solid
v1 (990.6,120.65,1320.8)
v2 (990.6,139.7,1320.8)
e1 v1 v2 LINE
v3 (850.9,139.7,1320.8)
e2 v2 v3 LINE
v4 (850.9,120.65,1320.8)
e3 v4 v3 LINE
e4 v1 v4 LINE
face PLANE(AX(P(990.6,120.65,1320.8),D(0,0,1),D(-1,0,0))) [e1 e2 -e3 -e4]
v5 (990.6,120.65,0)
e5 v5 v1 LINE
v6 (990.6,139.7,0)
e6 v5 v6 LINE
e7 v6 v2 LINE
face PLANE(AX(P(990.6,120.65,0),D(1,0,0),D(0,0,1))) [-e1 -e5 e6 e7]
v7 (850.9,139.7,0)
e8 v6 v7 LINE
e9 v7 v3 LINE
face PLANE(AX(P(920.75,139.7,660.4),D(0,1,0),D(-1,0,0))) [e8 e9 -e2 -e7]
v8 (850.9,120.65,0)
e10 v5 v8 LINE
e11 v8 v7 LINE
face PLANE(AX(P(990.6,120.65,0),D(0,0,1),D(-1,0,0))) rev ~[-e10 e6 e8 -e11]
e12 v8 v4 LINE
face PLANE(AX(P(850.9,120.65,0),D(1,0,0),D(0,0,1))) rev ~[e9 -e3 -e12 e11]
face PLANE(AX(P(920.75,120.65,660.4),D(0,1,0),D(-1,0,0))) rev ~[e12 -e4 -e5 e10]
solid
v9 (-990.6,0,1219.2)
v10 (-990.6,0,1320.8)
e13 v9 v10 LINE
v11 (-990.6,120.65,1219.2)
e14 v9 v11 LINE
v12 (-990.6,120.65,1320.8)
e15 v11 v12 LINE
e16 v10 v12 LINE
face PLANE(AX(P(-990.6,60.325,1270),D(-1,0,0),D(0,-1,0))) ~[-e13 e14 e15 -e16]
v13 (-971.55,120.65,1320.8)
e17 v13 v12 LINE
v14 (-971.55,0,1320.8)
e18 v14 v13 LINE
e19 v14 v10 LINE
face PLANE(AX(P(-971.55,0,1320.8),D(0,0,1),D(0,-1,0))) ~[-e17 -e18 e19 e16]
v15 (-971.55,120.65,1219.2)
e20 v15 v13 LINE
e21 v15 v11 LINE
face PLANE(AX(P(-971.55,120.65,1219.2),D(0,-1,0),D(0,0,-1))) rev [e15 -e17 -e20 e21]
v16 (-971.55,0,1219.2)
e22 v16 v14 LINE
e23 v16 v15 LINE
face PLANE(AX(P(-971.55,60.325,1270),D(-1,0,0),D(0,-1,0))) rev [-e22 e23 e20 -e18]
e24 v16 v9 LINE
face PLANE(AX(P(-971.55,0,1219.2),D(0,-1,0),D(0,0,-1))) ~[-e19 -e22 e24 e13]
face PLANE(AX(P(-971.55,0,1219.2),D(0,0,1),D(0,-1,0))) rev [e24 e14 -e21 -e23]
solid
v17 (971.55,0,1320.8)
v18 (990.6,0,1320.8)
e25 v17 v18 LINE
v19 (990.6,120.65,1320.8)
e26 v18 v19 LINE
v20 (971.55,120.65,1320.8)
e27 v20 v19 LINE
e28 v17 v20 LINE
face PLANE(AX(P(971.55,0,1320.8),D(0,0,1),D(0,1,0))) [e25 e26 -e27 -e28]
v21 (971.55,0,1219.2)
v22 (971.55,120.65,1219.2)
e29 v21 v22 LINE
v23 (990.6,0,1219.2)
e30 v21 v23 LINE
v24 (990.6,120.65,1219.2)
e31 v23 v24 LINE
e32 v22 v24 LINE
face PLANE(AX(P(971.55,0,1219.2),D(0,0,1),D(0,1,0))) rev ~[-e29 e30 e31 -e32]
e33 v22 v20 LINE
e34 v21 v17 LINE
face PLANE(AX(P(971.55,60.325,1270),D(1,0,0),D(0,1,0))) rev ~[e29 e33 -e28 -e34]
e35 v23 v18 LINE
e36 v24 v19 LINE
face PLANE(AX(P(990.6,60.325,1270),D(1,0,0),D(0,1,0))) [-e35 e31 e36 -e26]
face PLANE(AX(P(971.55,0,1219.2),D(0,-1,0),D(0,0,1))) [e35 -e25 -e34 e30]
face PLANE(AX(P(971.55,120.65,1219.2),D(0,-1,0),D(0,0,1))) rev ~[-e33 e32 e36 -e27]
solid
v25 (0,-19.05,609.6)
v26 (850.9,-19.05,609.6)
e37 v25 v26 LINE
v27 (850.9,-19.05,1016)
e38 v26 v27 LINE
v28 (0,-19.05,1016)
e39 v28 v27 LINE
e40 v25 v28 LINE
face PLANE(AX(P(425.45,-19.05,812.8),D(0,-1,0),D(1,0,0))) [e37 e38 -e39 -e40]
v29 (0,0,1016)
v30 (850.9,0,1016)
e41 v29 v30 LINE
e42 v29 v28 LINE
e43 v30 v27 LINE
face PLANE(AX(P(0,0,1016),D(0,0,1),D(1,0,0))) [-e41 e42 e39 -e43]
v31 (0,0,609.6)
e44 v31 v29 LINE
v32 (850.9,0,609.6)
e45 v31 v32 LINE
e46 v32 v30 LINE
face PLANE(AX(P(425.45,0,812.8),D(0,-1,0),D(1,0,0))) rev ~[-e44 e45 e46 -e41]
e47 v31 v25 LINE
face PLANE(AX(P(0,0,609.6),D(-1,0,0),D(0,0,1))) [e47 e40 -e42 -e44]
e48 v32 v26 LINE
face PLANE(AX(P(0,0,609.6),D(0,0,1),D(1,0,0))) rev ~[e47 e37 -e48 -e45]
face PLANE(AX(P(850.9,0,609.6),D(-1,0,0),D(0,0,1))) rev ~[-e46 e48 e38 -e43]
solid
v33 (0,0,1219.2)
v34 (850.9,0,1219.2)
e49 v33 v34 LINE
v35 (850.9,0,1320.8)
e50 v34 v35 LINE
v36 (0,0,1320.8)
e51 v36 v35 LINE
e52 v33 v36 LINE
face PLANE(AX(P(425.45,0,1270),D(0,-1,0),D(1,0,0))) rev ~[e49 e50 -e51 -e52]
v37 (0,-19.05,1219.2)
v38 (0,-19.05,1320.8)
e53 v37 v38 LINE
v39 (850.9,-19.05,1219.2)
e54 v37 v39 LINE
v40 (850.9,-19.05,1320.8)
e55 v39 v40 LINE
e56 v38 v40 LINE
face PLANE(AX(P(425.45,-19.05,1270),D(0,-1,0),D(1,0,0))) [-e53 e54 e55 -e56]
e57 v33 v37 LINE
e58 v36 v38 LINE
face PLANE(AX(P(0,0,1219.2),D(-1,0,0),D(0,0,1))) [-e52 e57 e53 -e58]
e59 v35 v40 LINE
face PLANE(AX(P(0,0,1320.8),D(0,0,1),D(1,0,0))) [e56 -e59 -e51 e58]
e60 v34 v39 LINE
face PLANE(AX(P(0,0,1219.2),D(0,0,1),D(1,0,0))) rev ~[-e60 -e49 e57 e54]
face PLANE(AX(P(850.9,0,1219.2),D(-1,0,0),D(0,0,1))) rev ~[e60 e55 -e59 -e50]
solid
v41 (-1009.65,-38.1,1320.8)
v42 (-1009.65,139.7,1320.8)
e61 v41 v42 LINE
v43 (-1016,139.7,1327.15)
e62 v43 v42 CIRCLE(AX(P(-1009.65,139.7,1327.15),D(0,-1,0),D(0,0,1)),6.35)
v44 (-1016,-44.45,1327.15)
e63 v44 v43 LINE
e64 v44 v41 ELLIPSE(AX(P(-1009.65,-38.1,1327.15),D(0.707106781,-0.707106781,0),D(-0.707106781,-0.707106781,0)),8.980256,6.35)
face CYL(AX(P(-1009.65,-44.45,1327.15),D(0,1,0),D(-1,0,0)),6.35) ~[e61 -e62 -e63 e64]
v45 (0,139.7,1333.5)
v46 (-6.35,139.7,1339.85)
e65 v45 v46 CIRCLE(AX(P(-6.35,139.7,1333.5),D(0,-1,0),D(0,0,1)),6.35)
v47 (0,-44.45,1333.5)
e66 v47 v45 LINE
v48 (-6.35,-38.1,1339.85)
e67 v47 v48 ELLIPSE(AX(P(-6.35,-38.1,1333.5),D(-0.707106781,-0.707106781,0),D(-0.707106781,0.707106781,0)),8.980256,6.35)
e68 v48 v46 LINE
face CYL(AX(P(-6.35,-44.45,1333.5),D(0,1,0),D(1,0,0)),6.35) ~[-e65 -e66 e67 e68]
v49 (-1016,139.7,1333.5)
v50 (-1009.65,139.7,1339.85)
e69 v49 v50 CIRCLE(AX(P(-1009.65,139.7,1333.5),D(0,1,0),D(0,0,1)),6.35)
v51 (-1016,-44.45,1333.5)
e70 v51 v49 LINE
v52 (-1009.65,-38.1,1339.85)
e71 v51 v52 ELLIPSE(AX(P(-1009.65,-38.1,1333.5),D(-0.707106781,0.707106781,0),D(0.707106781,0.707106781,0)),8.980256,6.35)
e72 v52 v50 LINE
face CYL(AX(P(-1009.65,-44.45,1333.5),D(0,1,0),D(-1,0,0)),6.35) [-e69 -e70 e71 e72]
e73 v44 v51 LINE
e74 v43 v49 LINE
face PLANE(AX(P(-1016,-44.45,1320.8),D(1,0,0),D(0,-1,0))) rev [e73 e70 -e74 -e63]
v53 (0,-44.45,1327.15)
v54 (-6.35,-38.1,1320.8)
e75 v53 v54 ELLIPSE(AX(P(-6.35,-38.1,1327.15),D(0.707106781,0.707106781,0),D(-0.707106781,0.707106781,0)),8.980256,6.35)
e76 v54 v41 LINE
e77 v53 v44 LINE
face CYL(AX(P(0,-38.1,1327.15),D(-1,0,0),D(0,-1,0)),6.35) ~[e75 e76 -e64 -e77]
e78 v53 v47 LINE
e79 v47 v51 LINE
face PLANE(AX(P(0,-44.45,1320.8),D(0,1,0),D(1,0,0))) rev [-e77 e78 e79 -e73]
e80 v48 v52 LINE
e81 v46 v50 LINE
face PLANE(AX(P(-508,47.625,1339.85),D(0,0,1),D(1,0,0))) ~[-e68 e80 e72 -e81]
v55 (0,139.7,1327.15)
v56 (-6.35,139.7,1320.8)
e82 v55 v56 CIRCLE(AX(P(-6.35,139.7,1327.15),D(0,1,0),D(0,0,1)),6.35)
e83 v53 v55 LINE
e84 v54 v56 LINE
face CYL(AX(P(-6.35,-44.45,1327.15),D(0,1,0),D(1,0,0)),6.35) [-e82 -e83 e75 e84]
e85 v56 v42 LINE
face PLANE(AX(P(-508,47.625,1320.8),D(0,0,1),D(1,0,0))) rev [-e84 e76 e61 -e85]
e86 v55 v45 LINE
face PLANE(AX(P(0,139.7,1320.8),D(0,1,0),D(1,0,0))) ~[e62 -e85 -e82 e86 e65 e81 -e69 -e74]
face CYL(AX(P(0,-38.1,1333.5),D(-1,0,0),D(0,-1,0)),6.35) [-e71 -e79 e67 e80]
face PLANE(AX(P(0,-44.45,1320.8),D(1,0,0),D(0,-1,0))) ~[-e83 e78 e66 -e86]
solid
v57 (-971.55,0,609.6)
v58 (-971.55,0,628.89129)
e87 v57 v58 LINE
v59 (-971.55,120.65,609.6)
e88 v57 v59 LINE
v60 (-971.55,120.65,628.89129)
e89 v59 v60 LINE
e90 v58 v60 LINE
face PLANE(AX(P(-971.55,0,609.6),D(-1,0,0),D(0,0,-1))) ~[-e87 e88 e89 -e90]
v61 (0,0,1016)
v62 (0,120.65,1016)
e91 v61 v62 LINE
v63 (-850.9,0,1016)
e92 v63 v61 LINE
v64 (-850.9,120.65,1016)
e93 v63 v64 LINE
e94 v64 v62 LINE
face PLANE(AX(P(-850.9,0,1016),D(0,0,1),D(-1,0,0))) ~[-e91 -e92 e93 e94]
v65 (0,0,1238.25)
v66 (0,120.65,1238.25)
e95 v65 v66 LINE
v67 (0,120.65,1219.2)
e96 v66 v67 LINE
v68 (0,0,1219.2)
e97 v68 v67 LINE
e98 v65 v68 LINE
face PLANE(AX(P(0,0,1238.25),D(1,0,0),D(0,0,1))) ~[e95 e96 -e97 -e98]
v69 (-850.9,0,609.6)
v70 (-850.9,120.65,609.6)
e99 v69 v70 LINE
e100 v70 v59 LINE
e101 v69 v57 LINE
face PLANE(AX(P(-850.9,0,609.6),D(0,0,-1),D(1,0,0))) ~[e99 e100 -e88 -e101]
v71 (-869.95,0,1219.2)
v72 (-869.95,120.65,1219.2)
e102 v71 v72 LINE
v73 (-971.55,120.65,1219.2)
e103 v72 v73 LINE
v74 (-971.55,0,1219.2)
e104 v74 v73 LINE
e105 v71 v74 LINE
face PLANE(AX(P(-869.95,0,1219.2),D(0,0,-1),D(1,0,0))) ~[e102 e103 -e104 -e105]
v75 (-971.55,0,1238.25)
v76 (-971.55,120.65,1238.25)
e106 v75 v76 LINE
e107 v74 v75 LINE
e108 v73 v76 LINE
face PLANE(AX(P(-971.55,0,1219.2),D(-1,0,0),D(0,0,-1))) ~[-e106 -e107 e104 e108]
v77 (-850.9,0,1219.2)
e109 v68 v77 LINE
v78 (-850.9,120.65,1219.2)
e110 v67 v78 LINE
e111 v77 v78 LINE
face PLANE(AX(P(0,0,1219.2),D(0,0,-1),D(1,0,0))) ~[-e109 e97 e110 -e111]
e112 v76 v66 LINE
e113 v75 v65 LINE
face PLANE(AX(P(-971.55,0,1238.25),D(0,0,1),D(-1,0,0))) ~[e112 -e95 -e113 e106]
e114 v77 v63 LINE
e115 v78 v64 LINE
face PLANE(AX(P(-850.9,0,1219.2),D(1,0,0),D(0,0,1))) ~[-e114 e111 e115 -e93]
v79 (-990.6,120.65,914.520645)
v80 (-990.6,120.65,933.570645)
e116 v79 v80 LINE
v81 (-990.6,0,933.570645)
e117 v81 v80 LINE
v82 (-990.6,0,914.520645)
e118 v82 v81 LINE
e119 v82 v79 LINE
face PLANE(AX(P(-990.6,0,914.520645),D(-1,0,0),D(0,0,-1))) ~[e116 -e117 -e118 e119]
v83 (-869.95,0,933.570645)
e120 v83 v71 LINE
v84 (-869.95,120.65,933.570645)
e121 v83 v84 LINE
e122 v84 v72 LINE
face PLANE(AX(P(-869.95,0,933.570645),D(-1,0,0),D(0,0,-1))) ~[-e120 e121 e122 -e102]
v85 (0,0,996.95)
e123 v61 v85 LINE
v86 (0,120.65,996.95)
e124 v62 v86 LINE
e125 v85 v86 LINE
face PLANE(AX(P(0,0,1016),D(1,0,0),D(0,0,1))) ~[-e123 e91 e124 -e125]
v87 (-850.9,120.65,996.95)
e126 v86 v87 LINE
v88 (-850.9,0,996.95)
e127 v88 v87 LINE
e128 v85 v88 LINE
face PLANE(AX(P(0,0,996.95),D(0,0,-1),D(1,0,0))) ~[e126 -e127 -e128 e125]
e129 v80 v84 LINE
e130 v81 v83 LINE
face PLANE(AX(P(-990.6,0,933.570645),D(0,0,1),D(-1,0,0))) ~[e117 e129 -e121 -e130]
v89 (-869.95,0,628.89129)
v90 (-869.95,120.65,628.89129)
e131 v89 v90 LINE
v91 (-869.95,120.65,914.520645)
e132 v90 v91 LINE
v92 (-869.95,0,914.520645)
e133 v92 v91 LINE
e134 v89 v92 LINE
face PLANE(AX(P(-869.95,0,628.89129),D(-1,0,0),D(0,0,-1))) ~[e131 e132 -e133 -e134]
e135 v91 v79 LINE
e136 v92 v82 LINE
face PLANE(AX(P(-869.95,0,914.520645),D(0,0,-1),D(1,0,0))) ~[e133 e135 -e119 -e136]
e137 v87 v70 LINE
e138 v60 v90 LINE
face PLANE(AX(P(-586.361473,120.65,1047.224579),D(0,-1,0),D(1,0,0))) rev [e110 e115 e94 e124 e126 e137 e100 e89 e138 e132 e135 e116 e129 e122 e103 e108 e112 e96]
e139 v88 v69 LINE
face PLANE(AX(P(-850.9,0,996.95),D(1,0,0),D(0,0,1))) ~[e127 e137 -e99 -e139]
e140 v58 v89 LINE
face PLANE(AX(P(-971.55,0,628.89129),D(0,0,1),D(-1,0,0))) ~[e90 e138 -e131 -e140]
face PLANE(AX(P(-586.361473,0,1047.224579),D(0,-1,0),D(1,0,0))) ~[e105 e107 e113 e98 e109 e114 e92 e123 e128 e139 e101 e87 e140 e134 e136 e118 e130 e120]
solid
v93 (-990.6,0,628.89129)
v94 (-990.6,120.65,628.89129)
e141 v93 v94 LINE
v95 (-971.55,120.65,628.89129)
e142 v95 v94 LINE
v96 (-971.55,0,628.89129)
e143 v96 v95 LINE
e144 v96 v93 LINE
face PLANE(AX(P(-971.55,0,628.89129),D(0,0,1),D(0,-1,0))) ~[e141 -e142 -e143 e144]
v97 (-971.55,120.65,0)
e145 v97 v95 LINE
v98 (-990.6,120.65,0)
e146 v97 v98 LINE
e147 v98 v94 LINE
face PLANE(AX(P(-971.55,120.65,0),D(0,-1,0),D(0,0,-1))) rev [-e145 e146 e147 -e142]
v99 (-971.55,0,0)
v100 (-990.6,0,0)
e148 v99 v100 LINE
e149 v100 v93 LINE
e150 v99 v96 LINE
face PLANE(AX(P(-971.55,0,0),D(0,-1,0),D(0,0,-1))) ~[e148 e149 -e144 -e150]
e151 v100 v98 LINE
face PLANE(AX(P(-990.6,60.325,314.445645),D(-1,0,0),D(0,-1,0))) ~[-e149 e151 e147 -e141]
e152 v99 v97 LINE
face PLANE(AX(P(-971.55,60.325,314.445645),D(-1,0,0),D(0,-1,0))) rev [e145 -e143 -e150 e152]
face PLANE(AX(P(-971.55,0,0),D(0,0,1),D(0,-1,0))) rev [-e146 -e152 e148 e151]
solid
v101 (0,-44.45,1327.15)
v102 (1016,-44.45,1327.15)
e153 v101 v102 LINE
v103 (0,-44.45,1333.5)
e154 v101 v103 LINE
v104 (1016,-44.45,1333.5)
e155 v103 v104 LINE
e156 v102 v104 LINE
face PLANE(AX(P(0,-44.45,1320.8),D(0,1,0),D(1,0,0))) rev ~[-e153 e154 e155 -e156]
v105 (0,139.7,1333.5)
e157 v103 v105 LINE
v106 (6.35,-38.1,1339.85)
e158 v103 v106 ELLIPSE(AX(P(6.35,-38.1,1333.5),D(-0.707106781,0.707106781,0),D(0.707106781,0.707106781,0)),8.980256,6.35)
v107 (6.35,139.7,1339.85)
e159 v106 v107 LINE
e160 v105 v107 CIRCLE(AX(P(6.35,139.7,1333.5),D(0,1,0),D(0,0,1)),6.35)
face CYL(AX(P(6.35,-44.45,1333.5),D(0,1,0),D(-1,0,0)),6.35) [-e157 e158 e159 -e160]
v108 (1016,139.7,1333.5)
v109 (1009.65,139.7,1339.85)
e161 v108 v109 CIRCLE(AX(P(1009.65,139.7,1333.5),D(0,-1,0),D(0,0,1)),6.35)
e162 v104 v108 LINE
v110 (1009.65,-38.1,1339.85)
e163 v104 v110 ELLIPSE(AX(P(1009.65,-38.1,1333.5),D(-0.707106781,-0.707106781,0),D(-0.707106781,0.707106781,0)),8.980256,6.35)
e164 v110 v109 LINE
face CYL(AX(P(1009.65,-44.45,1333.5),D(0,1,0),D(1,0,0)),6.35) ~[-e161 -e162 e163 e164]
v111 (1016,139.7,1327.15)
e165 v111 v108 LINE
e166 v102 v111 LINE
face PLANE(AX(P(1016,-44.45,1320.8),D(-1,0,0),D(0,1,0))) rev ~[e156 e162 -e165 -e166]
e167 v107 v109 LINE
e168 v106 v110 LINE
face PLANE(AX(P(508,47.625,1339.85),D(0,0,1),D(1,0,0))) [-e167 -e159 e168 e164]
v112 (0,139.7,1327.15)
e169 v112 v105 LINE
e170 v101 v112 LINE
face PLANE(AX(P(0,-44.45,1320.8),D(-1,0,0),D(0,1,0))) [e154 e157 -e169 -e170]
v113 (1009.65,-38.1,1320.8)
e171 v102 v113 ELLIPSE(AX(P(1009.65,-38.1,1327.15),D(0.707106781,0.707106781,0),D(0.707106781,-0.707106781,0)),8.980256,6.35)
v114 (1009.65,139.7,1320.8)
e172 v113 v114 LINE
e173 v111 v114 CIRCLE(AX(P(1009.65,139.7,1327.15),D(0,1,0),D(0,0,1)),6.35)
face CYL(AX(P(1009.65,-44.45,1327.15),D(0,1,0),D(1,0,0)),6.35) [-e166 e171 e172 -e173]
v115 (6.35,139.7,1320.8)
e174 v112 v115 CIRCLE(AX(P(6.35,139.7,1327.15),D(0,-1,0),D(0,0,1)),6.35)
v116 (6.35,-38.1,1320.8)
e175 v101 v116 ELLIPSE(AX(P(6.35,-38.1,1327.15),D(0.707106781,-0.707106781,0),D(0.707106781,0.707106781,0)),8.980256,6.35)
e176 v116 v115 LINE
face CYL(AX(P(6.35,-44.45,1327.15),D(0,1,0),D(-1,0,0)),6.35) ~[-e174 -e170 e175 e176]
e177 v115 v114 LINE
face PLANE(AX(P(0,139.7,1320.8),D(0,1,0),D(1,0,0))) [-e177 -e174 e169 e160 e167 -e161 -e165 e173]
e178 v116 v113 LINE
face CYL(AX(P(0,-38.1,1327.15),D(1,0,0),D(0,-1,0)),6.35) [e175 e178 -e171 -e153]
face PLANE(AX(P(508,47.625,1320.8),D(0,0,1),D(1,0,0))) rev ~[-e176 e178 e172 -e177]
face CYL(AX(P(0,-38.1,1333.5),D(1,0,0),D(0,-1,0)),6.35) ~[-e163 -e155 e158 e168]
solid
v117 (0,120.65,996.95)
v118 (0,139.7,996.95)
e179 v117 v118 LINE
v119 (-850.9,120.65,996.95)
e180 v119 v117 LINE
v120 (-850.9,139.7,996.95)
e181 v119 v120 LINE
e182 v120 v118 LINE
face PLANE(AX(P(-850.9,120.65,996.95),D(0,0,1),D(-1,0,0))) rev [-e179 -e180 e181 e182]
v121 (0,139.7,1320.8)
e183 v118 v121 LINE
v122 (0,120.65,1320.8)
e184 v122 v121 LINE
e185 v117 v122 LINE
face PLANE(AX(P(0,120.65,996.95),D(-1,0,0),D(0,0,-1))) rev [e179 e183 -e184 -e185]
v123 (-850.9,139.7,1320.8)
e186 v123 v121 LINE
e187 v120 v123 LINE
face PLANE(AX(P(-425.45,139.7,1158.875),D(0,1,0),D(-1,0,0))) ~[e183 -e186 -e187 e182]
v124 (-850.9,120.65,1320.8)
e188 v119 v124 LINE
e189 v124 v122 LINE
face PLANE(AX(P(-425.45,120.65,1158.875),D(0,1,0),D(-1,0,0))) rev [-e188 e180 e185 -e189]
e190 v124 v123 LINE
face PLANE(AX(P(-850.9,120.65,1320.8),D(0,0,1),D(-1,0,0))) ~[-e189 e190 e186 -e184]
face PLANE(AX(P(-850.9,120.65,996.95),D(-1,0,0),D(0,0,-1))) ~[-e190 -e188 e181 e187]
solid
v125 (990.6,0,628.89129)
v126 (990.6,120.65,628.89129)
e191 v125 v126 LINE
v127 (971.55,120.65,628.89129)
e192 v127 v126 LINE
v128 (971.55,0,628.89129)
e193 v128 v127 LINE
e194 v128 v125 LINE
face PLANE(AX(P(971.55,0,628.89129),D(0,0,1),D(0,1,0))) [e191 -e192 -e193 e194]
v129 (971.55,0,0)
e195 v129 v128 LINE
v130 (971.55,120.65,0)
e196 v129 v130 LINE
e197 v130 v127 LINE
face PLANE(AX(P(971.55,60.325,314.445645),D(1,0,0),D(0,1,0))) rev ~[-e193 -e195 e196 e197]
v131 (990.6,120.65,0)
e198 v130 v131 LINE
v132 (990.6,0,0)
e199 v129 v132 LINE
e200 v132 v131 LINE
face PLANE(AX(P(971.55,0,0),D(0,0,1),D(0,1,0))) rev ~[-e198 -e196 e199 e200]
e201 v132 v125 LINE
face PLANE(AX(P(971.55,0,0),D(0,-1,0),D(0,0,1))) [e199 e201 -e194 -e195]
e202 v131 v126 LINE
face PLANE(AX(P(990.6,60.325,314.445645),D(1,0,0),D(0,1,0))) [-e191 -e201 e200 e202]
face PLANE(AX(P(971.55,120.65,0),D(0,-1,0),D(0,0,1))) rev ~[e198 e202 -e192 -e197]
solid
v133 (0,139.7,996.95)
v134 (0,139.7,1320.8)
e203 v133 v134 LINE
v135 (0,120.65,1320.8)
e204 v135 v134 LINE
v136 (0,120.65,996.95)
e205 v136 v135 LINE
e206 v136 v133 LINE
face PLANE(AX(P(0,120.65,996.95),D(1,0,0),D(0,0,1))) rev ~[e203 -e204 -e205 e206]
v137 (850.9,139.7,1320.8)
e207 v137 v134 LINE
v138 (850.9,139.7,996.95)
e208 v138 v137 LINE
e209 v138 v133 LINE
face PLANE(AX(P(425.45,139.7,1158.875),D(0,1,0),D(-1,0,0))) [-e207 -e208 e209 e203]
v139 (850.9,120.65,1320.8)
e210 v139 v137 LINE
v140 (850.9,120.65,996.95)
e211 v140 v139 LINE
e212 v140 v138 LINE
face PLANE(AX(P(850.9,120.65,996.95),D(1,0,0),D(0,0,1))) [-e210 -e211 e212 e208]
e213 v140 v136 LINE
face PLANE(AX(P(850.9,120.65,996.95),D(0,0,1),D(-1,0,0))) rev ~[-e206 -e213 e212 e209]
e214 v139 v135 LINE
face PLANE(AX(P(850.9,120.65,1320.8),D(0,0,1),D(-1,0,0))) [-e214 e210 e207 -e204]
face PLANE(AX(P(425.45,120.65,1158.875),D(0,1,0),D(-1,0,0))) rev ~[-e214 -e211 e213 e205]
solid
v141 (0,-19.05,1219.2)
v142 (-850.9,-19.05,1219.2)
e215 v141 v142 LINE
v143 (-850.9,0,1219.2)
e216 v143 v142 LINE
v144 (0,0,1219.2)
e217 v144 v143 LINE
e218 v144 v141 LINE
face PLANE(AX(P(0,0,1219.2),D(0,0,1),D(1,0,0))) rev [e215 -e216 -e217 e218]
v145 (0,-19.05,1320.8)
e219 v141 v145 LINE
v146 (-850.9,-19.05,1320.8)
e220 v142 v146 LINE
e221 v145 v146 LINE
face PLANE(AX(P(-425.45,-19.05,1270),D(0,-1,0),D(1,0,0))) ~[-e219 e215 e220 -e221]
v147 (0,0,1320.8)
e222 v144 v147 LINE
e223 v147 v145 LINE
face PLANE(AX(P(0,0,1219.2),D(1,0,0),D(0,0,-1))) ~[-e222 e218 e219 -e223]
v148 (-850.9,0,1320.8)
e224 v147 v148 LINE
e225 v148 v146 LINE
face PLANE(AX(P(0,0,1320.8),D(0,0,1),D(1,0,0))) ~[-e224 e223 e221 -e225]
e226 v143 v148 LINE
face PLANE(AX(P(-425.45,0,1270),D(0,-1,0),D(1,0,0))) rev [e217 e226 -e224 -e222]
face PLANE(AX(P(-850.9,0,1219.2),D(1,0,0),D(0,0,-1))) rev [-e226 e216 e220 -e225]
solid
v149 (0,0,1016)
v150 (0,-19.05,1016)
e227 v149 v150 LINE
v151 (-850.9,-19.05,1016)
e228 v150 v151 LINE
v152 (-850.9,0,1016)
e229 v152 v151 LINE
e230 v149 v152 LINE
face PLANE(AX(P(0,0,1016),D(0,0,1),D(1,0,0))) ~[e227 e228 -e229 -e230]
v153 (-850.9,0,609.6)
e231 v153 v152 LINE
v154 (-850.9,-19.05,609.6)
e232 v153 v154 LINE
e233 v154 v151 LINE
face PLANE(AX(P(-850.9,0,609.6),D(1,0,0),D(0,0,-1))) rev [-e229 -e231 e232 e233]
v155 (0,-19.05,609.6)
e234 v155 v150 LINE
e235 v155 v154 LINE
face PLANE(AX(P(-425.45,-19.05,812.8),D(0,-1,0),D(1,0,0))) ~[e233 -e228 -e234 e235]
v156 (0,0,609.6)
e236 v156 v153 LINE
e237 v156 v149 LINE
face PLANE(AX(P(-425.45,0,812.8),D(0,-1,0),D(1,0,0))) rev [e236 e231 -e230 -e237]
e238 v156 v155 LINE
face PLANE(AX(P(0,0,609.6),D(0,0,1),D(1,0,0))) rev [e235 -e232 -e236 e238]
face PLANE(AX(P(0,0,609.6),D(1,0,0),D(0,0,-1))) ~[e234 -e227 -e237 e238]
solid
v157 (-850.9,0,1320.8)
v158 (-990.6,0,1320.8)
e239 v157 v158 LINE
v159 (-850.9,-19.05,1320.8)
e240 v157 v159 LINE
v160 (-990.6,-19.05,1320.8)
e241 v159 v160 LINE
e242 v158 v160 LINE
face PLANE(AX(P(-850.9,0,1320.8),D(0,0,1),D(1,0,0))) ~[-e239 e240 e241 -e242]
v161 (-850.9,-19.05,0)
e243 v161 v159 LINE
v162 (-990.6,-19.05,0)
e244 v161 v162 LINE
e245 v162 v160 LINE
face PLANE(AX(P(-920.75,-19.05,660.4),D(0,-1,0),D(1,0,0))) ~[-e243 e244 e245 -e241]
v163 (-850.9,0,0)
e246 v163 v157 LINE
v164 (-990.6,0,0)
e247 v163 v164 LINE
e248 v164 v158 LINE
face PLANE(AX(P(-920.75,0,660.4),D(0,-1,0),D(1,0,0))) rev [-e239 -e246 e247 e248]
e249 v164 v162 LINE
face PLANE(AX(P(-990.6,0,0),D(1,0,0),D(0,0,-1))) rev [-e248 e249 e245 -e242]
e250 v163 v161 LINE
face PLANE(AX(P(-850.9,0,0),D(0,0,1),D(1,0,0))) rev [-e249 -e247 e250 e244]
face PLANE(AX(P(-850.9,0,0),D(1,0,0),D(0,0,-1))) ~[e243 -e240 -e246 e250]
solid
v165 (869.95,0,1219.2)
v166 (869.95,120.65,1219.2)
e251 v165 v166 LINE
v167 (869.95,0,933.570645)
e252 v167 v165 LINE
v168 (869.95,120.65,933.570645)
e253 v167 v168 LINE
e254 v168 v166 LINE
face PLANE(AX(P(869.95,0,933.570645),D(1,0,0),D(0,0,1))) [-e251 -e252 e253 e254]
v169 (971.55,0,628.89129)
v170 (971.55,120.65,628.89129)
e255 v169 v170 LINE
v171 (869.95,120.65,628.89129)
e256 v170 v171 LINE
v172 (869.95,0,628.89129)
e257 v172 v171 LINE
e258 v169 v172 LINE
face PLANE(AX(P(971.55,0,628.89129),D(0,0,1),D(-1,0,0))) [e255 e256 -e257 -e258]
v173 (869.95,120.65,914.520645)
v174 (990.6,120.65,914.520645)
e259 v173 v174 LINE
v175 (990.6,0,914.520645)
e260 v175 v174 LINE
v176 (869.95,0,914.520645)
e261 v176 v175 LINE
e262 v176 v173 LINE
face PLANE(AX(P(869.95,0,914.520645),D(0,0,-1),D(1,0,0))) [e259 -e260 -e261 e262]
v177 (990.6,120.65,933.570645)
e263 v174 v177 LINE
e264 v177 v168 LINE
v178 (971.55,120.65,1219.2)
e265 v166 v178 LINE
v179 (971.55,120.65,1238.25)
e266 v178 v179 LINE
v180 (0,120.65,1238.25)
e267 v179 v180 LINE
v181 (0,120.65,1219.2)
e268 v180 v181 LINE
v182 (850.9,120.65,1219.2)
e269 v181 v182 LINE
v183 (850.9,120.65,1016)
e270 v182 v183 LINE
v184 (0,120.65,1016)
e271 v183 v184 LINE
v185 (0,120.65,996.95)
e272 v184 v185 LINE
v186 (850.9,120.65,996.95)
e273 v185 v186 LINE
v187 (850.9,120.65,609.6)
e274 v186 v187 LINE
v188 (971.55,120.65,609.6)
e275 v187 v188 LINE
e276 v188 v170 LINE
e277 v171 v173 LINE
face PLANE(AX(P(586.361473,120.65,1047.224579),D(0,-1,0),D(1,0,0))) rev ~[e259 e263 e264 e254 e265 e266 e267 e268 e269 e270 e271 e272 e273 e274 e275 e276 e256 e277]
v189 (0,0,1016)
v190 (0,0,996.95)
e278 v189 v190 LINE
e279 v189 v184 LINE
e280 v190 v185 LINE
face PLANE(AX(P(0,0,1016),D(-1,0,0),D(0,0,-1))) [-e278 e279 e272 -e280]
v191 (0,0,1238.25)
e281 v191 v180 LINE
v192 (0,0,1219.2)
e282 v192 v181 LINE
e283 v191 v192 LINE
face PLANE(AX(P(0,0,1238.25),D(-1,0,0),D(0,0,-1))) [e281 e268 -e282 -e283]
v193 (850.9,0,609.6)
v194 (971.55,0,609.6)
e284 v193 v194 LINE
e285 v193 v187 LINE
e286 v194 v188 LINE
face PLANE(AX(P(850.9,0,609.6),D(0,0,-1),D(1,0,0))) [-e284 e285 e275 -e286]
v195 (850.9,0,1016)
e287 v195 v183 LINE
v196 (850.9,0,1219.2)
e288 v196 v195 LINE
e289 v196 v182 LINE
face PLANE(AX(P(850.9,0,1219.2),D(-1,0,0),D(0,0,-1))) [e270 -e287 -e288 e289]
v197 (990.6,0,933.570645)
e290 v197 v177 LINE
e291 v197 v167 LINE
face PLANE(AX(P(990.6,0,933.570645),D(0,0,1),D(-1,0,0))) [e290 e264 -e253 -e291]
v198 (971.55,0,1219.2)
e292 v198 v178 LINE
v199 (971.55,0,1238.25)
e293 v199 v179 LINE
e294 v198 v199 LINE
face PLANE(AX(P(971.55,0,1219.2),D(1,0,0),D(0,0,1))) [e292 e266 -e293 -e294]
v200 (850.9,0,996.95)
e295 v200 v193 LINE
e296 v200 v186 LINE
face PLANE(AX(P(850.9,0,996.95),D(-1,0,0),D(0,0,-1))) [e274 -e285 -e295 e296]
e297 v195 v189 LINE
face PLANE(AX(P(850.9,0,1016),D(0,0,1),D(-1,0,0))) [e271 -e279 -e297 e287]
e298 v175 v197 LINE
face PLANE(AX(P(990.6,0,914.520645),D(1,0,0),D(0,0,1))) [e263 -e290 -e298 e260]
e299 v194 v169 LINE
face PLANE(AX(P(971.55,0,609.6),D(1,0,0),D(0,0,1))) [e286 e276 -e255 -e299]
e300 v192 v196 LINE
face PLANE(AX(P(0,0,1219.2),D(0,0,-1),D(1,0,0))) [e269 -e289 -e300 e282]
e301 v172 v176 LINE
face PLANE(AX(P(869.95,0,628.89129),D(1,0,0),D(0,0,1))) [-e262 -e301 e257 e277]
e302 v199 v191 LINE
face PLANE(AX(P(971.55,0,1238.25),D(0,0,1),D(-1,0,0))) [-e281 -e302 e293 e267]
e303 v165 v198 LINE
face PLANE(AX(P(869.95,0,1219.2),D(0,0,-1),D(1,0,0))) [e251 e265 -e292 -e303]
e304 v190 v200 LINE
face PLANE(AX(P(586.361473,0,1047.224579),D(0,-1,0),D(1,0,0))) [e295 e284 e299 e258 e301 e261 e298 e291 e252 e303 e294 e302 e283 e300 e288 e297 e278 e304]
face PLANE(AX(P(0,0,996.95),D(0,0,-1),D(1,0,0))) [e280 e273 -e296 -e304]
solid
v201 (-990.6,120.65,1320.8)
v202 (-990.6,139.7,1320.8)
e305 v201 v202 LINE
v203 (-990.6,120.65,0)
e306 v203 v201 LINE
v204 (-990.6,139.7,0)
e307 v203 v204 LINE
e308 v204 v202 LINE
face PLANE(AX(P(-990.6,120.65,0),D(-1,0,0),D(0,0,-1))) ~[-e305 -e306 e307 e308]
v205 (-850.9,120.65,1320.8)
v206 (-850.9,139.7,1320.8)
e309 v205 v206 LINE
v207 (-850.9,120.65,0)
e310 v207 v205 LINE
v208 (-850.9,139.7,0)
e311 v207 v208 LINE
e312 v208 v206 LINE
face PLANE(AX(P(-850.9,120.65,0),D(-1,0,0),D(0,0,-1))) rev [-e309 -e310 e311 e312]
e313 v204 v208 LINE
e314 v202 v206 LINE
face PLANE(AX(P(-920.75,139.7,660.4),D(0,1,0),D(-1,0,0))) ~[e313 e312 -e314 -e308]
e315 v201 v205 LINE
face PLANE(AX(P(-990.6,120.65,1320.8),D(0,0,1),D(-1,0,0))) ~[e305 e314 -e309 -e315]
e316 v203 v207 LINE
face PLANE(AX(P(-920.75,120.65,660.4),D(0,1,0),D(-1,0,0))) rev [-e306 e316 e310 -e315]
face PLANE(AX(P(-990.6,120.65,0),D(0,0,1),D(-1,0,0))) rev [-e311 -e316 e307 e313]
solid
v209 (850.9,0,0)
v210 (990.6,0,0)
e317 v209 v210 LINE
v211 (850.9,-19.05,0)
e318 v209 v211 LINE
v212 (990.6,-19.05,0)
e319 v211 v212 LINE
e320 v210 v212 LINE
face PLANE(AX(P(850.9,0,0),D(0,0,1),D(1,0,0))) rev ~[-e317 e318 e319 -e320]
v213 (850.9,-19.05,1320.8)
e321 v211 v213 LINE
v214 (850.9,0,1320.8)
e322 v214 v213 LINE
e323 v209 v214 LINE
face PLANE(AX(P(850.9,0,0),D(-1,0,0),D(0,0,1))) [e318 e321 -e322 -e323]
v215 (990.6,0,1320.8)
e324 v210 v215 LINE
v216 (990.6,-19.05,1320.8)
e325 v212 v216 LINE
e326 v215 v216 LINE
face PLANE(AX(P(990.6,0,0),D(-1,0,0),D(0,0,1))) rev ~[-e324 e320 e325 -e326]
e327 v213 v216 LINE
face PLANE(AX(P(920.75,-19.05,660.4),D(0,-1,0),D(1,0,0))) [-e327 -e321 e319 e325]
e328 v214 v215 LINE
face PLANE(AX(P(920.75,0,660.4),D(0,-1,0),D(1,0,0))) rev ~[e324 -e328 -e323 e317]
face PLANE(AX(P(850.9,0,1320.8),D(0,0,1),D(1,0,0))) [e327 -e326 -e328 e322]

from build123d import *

# Parameters (mm, degrees)
F0_W      = 139.7
F0_H      = 1320.8
F1_DEPTH  = 19.05
F2_W      = 850.9
F2_H      = 406.4
F3_DEPTH  = 19.05
F5_DEPTH  = 120.65
F6_W      = 850.9
F6_H      = 101.6
F7_DEPTH  = 19.05
F8_W      = 850.9
F8_H      = 323.85
F9_DEPTH  = 19.05
F10_W     = 120.65
F10_H     = 101.6
F10_H_2   = 628.89129
F11_DEPTH = 19.05
F12_W     = 139.7
F12_H     = 1320.8
F13_DEPTH = 19.05
F14_W     = 1016
F14_H     = 184.15
F15_DEPTH = 19.05
F16_R     = 6.35


with BuildPart() as f1:
    # F0 (on Front) → F1 (new body)
    with BuildSketch(Plane.XZ):
        with Locations((920.75, 660.4)):
            Rectangle(F0_W, F0_H)
    extrude(amount=F1_DEPTH)


with BuildPart() as f3:
    # F2 (on Front) → F3 (new body)
    with BuildSketch(Plane.XZ):
        with Locations((425.45, 812.8)):
            Rectangle(F2_W, F2_H)
    extrude(amount=F3_DEPTH)


with BuildPart() as f5:
    # F4 (on Front) → F5 (new body)
    with BuildSketch(Plane.XZ):
        Polygon((850.9, 1016), (0, 1016), (0, 996.95), (850.9, 996.95), (850.9, 609.6), (869.95, 609.6), (971.55, 609.6), (971.55, 628.89129), (869.95, 628.89129), (869.95, 914.520645), (990.6, 914.520645), (990.6, 933.570645), (869.95, 933.570645), (869.95, 1219.2), (971.55, 1219.2), (971.55, 1238.25), (869.95, 1238.25), (0, 1238.25), (0, 1219.2), (850.9, 1219.2), align=None)
    extrude(amount=-F5_DEPTH)


with BuildPart() as f7:
    # F6 (on face) → F7 (new body)
    with BuildSketch(Plane.XZ):
        with Locations((425.45, 1270)):
            Rectangle(F6_W, F6_H)
    extrude(amount=F7_DEPTH)


with BuildPart() as f9:
    # F8 (on face) → F9 (new body)
    with BuildSketch(Plane(origin=(0, 120.65, 0), x_dir=(-1, 0, 0), z_dir=(0, 1, 0))):
        with Locations((-425.45, 1158.875)):
            Rectangle(F8_W, F8_H)
    extrude(amount=F9_DEPTH)


with BuildPart() as f11:
    # F10 (on face) → F11 (new body)
    with BuildSketch(Plane.YZ.offset(971.55)):
        with Locations((60.325, 1270)):
            Rectangle(F10_W, F10_H)
        with Locations((60.325, 314.445645)):
            Rectangle(F10_W, F10_H_2)
    extrude(amount=F11_DEPTH)


with BuildPart() as f13:
    # F12 (on face) → F13 (new body)
    with BuildSketch(Plane(origin=(0, 120.65, 0), x_dir=(-1, 0, 0), z_dir=(0, 1, 0))):
        with Locations((-920.75, 660.4)):
            Rectangle(F12_W, F12_H)
    extrude(amount=F13_DEPTH)


with BuildPart() as f15:
    # F14 (on face) → F15 (new body)
    with BuildSketch(Plane.XY.offset(1320.8)):
        with Locations((508, 47.625)):
            Rectangle(F14_W, F14_H)
    extrude(amount=F15_DEPTH)

    # F16
    f16_edges = [f15.edges().sort_by_distance(p)[0] for p in [
        (1016, 47.625, 1339.85),
        (508, -44.45, 1339.85),
        (508, -44.45, 1320.8),
        (1016, 47.625, 1320.8),
        (0, 47.625, 1339.85),
        (0, 47.625, 1320.8),
    ]]
    fillet(f16_edges, radius=F16_R)


with BuildPart() as f17_1:
    # F17: instance of F15
    add(f15.part.mirror(Plane.YZ))


with BuildPart() as f17_2:
    # F17: instance of F1
    add(f1.part.mirror(Plane.YZ))


with BuildPart() as f17_3:
    # F17: instance of F3
    add(f3.part.mirror(Plane.YZ))


with BuildPart() as f17_4:
    # F17: instance of F5
    add(f5.part.mirror(Plane.YZ))


with BuildPart() as f17_5:
    # F17: instance of F7
    add(f7.part.mirror(Plane.YZ))


with BuildPart() as f17_6:
    # F17: instance of F9
    add(f9.part.mirror(Plane.YZ))


with BuildPart() as f17_7:
    # F17: instance of F11
    add(f11.part.mirror(Plane.YZ))


with BuildPart() as f17_8:
    # F17: instance of F13
    add(f13.part.mirror(Plane.YZ))


solid = Compound([f1.part, f3.part, f5.part, f7.part, f9.part, f11.part, f13.part, f15.part, f17_1.part, f17_2.part, f17_3.part, f17_4.part, f17_5.part, f17_6.part, f17_7.part, f17_8.part])
